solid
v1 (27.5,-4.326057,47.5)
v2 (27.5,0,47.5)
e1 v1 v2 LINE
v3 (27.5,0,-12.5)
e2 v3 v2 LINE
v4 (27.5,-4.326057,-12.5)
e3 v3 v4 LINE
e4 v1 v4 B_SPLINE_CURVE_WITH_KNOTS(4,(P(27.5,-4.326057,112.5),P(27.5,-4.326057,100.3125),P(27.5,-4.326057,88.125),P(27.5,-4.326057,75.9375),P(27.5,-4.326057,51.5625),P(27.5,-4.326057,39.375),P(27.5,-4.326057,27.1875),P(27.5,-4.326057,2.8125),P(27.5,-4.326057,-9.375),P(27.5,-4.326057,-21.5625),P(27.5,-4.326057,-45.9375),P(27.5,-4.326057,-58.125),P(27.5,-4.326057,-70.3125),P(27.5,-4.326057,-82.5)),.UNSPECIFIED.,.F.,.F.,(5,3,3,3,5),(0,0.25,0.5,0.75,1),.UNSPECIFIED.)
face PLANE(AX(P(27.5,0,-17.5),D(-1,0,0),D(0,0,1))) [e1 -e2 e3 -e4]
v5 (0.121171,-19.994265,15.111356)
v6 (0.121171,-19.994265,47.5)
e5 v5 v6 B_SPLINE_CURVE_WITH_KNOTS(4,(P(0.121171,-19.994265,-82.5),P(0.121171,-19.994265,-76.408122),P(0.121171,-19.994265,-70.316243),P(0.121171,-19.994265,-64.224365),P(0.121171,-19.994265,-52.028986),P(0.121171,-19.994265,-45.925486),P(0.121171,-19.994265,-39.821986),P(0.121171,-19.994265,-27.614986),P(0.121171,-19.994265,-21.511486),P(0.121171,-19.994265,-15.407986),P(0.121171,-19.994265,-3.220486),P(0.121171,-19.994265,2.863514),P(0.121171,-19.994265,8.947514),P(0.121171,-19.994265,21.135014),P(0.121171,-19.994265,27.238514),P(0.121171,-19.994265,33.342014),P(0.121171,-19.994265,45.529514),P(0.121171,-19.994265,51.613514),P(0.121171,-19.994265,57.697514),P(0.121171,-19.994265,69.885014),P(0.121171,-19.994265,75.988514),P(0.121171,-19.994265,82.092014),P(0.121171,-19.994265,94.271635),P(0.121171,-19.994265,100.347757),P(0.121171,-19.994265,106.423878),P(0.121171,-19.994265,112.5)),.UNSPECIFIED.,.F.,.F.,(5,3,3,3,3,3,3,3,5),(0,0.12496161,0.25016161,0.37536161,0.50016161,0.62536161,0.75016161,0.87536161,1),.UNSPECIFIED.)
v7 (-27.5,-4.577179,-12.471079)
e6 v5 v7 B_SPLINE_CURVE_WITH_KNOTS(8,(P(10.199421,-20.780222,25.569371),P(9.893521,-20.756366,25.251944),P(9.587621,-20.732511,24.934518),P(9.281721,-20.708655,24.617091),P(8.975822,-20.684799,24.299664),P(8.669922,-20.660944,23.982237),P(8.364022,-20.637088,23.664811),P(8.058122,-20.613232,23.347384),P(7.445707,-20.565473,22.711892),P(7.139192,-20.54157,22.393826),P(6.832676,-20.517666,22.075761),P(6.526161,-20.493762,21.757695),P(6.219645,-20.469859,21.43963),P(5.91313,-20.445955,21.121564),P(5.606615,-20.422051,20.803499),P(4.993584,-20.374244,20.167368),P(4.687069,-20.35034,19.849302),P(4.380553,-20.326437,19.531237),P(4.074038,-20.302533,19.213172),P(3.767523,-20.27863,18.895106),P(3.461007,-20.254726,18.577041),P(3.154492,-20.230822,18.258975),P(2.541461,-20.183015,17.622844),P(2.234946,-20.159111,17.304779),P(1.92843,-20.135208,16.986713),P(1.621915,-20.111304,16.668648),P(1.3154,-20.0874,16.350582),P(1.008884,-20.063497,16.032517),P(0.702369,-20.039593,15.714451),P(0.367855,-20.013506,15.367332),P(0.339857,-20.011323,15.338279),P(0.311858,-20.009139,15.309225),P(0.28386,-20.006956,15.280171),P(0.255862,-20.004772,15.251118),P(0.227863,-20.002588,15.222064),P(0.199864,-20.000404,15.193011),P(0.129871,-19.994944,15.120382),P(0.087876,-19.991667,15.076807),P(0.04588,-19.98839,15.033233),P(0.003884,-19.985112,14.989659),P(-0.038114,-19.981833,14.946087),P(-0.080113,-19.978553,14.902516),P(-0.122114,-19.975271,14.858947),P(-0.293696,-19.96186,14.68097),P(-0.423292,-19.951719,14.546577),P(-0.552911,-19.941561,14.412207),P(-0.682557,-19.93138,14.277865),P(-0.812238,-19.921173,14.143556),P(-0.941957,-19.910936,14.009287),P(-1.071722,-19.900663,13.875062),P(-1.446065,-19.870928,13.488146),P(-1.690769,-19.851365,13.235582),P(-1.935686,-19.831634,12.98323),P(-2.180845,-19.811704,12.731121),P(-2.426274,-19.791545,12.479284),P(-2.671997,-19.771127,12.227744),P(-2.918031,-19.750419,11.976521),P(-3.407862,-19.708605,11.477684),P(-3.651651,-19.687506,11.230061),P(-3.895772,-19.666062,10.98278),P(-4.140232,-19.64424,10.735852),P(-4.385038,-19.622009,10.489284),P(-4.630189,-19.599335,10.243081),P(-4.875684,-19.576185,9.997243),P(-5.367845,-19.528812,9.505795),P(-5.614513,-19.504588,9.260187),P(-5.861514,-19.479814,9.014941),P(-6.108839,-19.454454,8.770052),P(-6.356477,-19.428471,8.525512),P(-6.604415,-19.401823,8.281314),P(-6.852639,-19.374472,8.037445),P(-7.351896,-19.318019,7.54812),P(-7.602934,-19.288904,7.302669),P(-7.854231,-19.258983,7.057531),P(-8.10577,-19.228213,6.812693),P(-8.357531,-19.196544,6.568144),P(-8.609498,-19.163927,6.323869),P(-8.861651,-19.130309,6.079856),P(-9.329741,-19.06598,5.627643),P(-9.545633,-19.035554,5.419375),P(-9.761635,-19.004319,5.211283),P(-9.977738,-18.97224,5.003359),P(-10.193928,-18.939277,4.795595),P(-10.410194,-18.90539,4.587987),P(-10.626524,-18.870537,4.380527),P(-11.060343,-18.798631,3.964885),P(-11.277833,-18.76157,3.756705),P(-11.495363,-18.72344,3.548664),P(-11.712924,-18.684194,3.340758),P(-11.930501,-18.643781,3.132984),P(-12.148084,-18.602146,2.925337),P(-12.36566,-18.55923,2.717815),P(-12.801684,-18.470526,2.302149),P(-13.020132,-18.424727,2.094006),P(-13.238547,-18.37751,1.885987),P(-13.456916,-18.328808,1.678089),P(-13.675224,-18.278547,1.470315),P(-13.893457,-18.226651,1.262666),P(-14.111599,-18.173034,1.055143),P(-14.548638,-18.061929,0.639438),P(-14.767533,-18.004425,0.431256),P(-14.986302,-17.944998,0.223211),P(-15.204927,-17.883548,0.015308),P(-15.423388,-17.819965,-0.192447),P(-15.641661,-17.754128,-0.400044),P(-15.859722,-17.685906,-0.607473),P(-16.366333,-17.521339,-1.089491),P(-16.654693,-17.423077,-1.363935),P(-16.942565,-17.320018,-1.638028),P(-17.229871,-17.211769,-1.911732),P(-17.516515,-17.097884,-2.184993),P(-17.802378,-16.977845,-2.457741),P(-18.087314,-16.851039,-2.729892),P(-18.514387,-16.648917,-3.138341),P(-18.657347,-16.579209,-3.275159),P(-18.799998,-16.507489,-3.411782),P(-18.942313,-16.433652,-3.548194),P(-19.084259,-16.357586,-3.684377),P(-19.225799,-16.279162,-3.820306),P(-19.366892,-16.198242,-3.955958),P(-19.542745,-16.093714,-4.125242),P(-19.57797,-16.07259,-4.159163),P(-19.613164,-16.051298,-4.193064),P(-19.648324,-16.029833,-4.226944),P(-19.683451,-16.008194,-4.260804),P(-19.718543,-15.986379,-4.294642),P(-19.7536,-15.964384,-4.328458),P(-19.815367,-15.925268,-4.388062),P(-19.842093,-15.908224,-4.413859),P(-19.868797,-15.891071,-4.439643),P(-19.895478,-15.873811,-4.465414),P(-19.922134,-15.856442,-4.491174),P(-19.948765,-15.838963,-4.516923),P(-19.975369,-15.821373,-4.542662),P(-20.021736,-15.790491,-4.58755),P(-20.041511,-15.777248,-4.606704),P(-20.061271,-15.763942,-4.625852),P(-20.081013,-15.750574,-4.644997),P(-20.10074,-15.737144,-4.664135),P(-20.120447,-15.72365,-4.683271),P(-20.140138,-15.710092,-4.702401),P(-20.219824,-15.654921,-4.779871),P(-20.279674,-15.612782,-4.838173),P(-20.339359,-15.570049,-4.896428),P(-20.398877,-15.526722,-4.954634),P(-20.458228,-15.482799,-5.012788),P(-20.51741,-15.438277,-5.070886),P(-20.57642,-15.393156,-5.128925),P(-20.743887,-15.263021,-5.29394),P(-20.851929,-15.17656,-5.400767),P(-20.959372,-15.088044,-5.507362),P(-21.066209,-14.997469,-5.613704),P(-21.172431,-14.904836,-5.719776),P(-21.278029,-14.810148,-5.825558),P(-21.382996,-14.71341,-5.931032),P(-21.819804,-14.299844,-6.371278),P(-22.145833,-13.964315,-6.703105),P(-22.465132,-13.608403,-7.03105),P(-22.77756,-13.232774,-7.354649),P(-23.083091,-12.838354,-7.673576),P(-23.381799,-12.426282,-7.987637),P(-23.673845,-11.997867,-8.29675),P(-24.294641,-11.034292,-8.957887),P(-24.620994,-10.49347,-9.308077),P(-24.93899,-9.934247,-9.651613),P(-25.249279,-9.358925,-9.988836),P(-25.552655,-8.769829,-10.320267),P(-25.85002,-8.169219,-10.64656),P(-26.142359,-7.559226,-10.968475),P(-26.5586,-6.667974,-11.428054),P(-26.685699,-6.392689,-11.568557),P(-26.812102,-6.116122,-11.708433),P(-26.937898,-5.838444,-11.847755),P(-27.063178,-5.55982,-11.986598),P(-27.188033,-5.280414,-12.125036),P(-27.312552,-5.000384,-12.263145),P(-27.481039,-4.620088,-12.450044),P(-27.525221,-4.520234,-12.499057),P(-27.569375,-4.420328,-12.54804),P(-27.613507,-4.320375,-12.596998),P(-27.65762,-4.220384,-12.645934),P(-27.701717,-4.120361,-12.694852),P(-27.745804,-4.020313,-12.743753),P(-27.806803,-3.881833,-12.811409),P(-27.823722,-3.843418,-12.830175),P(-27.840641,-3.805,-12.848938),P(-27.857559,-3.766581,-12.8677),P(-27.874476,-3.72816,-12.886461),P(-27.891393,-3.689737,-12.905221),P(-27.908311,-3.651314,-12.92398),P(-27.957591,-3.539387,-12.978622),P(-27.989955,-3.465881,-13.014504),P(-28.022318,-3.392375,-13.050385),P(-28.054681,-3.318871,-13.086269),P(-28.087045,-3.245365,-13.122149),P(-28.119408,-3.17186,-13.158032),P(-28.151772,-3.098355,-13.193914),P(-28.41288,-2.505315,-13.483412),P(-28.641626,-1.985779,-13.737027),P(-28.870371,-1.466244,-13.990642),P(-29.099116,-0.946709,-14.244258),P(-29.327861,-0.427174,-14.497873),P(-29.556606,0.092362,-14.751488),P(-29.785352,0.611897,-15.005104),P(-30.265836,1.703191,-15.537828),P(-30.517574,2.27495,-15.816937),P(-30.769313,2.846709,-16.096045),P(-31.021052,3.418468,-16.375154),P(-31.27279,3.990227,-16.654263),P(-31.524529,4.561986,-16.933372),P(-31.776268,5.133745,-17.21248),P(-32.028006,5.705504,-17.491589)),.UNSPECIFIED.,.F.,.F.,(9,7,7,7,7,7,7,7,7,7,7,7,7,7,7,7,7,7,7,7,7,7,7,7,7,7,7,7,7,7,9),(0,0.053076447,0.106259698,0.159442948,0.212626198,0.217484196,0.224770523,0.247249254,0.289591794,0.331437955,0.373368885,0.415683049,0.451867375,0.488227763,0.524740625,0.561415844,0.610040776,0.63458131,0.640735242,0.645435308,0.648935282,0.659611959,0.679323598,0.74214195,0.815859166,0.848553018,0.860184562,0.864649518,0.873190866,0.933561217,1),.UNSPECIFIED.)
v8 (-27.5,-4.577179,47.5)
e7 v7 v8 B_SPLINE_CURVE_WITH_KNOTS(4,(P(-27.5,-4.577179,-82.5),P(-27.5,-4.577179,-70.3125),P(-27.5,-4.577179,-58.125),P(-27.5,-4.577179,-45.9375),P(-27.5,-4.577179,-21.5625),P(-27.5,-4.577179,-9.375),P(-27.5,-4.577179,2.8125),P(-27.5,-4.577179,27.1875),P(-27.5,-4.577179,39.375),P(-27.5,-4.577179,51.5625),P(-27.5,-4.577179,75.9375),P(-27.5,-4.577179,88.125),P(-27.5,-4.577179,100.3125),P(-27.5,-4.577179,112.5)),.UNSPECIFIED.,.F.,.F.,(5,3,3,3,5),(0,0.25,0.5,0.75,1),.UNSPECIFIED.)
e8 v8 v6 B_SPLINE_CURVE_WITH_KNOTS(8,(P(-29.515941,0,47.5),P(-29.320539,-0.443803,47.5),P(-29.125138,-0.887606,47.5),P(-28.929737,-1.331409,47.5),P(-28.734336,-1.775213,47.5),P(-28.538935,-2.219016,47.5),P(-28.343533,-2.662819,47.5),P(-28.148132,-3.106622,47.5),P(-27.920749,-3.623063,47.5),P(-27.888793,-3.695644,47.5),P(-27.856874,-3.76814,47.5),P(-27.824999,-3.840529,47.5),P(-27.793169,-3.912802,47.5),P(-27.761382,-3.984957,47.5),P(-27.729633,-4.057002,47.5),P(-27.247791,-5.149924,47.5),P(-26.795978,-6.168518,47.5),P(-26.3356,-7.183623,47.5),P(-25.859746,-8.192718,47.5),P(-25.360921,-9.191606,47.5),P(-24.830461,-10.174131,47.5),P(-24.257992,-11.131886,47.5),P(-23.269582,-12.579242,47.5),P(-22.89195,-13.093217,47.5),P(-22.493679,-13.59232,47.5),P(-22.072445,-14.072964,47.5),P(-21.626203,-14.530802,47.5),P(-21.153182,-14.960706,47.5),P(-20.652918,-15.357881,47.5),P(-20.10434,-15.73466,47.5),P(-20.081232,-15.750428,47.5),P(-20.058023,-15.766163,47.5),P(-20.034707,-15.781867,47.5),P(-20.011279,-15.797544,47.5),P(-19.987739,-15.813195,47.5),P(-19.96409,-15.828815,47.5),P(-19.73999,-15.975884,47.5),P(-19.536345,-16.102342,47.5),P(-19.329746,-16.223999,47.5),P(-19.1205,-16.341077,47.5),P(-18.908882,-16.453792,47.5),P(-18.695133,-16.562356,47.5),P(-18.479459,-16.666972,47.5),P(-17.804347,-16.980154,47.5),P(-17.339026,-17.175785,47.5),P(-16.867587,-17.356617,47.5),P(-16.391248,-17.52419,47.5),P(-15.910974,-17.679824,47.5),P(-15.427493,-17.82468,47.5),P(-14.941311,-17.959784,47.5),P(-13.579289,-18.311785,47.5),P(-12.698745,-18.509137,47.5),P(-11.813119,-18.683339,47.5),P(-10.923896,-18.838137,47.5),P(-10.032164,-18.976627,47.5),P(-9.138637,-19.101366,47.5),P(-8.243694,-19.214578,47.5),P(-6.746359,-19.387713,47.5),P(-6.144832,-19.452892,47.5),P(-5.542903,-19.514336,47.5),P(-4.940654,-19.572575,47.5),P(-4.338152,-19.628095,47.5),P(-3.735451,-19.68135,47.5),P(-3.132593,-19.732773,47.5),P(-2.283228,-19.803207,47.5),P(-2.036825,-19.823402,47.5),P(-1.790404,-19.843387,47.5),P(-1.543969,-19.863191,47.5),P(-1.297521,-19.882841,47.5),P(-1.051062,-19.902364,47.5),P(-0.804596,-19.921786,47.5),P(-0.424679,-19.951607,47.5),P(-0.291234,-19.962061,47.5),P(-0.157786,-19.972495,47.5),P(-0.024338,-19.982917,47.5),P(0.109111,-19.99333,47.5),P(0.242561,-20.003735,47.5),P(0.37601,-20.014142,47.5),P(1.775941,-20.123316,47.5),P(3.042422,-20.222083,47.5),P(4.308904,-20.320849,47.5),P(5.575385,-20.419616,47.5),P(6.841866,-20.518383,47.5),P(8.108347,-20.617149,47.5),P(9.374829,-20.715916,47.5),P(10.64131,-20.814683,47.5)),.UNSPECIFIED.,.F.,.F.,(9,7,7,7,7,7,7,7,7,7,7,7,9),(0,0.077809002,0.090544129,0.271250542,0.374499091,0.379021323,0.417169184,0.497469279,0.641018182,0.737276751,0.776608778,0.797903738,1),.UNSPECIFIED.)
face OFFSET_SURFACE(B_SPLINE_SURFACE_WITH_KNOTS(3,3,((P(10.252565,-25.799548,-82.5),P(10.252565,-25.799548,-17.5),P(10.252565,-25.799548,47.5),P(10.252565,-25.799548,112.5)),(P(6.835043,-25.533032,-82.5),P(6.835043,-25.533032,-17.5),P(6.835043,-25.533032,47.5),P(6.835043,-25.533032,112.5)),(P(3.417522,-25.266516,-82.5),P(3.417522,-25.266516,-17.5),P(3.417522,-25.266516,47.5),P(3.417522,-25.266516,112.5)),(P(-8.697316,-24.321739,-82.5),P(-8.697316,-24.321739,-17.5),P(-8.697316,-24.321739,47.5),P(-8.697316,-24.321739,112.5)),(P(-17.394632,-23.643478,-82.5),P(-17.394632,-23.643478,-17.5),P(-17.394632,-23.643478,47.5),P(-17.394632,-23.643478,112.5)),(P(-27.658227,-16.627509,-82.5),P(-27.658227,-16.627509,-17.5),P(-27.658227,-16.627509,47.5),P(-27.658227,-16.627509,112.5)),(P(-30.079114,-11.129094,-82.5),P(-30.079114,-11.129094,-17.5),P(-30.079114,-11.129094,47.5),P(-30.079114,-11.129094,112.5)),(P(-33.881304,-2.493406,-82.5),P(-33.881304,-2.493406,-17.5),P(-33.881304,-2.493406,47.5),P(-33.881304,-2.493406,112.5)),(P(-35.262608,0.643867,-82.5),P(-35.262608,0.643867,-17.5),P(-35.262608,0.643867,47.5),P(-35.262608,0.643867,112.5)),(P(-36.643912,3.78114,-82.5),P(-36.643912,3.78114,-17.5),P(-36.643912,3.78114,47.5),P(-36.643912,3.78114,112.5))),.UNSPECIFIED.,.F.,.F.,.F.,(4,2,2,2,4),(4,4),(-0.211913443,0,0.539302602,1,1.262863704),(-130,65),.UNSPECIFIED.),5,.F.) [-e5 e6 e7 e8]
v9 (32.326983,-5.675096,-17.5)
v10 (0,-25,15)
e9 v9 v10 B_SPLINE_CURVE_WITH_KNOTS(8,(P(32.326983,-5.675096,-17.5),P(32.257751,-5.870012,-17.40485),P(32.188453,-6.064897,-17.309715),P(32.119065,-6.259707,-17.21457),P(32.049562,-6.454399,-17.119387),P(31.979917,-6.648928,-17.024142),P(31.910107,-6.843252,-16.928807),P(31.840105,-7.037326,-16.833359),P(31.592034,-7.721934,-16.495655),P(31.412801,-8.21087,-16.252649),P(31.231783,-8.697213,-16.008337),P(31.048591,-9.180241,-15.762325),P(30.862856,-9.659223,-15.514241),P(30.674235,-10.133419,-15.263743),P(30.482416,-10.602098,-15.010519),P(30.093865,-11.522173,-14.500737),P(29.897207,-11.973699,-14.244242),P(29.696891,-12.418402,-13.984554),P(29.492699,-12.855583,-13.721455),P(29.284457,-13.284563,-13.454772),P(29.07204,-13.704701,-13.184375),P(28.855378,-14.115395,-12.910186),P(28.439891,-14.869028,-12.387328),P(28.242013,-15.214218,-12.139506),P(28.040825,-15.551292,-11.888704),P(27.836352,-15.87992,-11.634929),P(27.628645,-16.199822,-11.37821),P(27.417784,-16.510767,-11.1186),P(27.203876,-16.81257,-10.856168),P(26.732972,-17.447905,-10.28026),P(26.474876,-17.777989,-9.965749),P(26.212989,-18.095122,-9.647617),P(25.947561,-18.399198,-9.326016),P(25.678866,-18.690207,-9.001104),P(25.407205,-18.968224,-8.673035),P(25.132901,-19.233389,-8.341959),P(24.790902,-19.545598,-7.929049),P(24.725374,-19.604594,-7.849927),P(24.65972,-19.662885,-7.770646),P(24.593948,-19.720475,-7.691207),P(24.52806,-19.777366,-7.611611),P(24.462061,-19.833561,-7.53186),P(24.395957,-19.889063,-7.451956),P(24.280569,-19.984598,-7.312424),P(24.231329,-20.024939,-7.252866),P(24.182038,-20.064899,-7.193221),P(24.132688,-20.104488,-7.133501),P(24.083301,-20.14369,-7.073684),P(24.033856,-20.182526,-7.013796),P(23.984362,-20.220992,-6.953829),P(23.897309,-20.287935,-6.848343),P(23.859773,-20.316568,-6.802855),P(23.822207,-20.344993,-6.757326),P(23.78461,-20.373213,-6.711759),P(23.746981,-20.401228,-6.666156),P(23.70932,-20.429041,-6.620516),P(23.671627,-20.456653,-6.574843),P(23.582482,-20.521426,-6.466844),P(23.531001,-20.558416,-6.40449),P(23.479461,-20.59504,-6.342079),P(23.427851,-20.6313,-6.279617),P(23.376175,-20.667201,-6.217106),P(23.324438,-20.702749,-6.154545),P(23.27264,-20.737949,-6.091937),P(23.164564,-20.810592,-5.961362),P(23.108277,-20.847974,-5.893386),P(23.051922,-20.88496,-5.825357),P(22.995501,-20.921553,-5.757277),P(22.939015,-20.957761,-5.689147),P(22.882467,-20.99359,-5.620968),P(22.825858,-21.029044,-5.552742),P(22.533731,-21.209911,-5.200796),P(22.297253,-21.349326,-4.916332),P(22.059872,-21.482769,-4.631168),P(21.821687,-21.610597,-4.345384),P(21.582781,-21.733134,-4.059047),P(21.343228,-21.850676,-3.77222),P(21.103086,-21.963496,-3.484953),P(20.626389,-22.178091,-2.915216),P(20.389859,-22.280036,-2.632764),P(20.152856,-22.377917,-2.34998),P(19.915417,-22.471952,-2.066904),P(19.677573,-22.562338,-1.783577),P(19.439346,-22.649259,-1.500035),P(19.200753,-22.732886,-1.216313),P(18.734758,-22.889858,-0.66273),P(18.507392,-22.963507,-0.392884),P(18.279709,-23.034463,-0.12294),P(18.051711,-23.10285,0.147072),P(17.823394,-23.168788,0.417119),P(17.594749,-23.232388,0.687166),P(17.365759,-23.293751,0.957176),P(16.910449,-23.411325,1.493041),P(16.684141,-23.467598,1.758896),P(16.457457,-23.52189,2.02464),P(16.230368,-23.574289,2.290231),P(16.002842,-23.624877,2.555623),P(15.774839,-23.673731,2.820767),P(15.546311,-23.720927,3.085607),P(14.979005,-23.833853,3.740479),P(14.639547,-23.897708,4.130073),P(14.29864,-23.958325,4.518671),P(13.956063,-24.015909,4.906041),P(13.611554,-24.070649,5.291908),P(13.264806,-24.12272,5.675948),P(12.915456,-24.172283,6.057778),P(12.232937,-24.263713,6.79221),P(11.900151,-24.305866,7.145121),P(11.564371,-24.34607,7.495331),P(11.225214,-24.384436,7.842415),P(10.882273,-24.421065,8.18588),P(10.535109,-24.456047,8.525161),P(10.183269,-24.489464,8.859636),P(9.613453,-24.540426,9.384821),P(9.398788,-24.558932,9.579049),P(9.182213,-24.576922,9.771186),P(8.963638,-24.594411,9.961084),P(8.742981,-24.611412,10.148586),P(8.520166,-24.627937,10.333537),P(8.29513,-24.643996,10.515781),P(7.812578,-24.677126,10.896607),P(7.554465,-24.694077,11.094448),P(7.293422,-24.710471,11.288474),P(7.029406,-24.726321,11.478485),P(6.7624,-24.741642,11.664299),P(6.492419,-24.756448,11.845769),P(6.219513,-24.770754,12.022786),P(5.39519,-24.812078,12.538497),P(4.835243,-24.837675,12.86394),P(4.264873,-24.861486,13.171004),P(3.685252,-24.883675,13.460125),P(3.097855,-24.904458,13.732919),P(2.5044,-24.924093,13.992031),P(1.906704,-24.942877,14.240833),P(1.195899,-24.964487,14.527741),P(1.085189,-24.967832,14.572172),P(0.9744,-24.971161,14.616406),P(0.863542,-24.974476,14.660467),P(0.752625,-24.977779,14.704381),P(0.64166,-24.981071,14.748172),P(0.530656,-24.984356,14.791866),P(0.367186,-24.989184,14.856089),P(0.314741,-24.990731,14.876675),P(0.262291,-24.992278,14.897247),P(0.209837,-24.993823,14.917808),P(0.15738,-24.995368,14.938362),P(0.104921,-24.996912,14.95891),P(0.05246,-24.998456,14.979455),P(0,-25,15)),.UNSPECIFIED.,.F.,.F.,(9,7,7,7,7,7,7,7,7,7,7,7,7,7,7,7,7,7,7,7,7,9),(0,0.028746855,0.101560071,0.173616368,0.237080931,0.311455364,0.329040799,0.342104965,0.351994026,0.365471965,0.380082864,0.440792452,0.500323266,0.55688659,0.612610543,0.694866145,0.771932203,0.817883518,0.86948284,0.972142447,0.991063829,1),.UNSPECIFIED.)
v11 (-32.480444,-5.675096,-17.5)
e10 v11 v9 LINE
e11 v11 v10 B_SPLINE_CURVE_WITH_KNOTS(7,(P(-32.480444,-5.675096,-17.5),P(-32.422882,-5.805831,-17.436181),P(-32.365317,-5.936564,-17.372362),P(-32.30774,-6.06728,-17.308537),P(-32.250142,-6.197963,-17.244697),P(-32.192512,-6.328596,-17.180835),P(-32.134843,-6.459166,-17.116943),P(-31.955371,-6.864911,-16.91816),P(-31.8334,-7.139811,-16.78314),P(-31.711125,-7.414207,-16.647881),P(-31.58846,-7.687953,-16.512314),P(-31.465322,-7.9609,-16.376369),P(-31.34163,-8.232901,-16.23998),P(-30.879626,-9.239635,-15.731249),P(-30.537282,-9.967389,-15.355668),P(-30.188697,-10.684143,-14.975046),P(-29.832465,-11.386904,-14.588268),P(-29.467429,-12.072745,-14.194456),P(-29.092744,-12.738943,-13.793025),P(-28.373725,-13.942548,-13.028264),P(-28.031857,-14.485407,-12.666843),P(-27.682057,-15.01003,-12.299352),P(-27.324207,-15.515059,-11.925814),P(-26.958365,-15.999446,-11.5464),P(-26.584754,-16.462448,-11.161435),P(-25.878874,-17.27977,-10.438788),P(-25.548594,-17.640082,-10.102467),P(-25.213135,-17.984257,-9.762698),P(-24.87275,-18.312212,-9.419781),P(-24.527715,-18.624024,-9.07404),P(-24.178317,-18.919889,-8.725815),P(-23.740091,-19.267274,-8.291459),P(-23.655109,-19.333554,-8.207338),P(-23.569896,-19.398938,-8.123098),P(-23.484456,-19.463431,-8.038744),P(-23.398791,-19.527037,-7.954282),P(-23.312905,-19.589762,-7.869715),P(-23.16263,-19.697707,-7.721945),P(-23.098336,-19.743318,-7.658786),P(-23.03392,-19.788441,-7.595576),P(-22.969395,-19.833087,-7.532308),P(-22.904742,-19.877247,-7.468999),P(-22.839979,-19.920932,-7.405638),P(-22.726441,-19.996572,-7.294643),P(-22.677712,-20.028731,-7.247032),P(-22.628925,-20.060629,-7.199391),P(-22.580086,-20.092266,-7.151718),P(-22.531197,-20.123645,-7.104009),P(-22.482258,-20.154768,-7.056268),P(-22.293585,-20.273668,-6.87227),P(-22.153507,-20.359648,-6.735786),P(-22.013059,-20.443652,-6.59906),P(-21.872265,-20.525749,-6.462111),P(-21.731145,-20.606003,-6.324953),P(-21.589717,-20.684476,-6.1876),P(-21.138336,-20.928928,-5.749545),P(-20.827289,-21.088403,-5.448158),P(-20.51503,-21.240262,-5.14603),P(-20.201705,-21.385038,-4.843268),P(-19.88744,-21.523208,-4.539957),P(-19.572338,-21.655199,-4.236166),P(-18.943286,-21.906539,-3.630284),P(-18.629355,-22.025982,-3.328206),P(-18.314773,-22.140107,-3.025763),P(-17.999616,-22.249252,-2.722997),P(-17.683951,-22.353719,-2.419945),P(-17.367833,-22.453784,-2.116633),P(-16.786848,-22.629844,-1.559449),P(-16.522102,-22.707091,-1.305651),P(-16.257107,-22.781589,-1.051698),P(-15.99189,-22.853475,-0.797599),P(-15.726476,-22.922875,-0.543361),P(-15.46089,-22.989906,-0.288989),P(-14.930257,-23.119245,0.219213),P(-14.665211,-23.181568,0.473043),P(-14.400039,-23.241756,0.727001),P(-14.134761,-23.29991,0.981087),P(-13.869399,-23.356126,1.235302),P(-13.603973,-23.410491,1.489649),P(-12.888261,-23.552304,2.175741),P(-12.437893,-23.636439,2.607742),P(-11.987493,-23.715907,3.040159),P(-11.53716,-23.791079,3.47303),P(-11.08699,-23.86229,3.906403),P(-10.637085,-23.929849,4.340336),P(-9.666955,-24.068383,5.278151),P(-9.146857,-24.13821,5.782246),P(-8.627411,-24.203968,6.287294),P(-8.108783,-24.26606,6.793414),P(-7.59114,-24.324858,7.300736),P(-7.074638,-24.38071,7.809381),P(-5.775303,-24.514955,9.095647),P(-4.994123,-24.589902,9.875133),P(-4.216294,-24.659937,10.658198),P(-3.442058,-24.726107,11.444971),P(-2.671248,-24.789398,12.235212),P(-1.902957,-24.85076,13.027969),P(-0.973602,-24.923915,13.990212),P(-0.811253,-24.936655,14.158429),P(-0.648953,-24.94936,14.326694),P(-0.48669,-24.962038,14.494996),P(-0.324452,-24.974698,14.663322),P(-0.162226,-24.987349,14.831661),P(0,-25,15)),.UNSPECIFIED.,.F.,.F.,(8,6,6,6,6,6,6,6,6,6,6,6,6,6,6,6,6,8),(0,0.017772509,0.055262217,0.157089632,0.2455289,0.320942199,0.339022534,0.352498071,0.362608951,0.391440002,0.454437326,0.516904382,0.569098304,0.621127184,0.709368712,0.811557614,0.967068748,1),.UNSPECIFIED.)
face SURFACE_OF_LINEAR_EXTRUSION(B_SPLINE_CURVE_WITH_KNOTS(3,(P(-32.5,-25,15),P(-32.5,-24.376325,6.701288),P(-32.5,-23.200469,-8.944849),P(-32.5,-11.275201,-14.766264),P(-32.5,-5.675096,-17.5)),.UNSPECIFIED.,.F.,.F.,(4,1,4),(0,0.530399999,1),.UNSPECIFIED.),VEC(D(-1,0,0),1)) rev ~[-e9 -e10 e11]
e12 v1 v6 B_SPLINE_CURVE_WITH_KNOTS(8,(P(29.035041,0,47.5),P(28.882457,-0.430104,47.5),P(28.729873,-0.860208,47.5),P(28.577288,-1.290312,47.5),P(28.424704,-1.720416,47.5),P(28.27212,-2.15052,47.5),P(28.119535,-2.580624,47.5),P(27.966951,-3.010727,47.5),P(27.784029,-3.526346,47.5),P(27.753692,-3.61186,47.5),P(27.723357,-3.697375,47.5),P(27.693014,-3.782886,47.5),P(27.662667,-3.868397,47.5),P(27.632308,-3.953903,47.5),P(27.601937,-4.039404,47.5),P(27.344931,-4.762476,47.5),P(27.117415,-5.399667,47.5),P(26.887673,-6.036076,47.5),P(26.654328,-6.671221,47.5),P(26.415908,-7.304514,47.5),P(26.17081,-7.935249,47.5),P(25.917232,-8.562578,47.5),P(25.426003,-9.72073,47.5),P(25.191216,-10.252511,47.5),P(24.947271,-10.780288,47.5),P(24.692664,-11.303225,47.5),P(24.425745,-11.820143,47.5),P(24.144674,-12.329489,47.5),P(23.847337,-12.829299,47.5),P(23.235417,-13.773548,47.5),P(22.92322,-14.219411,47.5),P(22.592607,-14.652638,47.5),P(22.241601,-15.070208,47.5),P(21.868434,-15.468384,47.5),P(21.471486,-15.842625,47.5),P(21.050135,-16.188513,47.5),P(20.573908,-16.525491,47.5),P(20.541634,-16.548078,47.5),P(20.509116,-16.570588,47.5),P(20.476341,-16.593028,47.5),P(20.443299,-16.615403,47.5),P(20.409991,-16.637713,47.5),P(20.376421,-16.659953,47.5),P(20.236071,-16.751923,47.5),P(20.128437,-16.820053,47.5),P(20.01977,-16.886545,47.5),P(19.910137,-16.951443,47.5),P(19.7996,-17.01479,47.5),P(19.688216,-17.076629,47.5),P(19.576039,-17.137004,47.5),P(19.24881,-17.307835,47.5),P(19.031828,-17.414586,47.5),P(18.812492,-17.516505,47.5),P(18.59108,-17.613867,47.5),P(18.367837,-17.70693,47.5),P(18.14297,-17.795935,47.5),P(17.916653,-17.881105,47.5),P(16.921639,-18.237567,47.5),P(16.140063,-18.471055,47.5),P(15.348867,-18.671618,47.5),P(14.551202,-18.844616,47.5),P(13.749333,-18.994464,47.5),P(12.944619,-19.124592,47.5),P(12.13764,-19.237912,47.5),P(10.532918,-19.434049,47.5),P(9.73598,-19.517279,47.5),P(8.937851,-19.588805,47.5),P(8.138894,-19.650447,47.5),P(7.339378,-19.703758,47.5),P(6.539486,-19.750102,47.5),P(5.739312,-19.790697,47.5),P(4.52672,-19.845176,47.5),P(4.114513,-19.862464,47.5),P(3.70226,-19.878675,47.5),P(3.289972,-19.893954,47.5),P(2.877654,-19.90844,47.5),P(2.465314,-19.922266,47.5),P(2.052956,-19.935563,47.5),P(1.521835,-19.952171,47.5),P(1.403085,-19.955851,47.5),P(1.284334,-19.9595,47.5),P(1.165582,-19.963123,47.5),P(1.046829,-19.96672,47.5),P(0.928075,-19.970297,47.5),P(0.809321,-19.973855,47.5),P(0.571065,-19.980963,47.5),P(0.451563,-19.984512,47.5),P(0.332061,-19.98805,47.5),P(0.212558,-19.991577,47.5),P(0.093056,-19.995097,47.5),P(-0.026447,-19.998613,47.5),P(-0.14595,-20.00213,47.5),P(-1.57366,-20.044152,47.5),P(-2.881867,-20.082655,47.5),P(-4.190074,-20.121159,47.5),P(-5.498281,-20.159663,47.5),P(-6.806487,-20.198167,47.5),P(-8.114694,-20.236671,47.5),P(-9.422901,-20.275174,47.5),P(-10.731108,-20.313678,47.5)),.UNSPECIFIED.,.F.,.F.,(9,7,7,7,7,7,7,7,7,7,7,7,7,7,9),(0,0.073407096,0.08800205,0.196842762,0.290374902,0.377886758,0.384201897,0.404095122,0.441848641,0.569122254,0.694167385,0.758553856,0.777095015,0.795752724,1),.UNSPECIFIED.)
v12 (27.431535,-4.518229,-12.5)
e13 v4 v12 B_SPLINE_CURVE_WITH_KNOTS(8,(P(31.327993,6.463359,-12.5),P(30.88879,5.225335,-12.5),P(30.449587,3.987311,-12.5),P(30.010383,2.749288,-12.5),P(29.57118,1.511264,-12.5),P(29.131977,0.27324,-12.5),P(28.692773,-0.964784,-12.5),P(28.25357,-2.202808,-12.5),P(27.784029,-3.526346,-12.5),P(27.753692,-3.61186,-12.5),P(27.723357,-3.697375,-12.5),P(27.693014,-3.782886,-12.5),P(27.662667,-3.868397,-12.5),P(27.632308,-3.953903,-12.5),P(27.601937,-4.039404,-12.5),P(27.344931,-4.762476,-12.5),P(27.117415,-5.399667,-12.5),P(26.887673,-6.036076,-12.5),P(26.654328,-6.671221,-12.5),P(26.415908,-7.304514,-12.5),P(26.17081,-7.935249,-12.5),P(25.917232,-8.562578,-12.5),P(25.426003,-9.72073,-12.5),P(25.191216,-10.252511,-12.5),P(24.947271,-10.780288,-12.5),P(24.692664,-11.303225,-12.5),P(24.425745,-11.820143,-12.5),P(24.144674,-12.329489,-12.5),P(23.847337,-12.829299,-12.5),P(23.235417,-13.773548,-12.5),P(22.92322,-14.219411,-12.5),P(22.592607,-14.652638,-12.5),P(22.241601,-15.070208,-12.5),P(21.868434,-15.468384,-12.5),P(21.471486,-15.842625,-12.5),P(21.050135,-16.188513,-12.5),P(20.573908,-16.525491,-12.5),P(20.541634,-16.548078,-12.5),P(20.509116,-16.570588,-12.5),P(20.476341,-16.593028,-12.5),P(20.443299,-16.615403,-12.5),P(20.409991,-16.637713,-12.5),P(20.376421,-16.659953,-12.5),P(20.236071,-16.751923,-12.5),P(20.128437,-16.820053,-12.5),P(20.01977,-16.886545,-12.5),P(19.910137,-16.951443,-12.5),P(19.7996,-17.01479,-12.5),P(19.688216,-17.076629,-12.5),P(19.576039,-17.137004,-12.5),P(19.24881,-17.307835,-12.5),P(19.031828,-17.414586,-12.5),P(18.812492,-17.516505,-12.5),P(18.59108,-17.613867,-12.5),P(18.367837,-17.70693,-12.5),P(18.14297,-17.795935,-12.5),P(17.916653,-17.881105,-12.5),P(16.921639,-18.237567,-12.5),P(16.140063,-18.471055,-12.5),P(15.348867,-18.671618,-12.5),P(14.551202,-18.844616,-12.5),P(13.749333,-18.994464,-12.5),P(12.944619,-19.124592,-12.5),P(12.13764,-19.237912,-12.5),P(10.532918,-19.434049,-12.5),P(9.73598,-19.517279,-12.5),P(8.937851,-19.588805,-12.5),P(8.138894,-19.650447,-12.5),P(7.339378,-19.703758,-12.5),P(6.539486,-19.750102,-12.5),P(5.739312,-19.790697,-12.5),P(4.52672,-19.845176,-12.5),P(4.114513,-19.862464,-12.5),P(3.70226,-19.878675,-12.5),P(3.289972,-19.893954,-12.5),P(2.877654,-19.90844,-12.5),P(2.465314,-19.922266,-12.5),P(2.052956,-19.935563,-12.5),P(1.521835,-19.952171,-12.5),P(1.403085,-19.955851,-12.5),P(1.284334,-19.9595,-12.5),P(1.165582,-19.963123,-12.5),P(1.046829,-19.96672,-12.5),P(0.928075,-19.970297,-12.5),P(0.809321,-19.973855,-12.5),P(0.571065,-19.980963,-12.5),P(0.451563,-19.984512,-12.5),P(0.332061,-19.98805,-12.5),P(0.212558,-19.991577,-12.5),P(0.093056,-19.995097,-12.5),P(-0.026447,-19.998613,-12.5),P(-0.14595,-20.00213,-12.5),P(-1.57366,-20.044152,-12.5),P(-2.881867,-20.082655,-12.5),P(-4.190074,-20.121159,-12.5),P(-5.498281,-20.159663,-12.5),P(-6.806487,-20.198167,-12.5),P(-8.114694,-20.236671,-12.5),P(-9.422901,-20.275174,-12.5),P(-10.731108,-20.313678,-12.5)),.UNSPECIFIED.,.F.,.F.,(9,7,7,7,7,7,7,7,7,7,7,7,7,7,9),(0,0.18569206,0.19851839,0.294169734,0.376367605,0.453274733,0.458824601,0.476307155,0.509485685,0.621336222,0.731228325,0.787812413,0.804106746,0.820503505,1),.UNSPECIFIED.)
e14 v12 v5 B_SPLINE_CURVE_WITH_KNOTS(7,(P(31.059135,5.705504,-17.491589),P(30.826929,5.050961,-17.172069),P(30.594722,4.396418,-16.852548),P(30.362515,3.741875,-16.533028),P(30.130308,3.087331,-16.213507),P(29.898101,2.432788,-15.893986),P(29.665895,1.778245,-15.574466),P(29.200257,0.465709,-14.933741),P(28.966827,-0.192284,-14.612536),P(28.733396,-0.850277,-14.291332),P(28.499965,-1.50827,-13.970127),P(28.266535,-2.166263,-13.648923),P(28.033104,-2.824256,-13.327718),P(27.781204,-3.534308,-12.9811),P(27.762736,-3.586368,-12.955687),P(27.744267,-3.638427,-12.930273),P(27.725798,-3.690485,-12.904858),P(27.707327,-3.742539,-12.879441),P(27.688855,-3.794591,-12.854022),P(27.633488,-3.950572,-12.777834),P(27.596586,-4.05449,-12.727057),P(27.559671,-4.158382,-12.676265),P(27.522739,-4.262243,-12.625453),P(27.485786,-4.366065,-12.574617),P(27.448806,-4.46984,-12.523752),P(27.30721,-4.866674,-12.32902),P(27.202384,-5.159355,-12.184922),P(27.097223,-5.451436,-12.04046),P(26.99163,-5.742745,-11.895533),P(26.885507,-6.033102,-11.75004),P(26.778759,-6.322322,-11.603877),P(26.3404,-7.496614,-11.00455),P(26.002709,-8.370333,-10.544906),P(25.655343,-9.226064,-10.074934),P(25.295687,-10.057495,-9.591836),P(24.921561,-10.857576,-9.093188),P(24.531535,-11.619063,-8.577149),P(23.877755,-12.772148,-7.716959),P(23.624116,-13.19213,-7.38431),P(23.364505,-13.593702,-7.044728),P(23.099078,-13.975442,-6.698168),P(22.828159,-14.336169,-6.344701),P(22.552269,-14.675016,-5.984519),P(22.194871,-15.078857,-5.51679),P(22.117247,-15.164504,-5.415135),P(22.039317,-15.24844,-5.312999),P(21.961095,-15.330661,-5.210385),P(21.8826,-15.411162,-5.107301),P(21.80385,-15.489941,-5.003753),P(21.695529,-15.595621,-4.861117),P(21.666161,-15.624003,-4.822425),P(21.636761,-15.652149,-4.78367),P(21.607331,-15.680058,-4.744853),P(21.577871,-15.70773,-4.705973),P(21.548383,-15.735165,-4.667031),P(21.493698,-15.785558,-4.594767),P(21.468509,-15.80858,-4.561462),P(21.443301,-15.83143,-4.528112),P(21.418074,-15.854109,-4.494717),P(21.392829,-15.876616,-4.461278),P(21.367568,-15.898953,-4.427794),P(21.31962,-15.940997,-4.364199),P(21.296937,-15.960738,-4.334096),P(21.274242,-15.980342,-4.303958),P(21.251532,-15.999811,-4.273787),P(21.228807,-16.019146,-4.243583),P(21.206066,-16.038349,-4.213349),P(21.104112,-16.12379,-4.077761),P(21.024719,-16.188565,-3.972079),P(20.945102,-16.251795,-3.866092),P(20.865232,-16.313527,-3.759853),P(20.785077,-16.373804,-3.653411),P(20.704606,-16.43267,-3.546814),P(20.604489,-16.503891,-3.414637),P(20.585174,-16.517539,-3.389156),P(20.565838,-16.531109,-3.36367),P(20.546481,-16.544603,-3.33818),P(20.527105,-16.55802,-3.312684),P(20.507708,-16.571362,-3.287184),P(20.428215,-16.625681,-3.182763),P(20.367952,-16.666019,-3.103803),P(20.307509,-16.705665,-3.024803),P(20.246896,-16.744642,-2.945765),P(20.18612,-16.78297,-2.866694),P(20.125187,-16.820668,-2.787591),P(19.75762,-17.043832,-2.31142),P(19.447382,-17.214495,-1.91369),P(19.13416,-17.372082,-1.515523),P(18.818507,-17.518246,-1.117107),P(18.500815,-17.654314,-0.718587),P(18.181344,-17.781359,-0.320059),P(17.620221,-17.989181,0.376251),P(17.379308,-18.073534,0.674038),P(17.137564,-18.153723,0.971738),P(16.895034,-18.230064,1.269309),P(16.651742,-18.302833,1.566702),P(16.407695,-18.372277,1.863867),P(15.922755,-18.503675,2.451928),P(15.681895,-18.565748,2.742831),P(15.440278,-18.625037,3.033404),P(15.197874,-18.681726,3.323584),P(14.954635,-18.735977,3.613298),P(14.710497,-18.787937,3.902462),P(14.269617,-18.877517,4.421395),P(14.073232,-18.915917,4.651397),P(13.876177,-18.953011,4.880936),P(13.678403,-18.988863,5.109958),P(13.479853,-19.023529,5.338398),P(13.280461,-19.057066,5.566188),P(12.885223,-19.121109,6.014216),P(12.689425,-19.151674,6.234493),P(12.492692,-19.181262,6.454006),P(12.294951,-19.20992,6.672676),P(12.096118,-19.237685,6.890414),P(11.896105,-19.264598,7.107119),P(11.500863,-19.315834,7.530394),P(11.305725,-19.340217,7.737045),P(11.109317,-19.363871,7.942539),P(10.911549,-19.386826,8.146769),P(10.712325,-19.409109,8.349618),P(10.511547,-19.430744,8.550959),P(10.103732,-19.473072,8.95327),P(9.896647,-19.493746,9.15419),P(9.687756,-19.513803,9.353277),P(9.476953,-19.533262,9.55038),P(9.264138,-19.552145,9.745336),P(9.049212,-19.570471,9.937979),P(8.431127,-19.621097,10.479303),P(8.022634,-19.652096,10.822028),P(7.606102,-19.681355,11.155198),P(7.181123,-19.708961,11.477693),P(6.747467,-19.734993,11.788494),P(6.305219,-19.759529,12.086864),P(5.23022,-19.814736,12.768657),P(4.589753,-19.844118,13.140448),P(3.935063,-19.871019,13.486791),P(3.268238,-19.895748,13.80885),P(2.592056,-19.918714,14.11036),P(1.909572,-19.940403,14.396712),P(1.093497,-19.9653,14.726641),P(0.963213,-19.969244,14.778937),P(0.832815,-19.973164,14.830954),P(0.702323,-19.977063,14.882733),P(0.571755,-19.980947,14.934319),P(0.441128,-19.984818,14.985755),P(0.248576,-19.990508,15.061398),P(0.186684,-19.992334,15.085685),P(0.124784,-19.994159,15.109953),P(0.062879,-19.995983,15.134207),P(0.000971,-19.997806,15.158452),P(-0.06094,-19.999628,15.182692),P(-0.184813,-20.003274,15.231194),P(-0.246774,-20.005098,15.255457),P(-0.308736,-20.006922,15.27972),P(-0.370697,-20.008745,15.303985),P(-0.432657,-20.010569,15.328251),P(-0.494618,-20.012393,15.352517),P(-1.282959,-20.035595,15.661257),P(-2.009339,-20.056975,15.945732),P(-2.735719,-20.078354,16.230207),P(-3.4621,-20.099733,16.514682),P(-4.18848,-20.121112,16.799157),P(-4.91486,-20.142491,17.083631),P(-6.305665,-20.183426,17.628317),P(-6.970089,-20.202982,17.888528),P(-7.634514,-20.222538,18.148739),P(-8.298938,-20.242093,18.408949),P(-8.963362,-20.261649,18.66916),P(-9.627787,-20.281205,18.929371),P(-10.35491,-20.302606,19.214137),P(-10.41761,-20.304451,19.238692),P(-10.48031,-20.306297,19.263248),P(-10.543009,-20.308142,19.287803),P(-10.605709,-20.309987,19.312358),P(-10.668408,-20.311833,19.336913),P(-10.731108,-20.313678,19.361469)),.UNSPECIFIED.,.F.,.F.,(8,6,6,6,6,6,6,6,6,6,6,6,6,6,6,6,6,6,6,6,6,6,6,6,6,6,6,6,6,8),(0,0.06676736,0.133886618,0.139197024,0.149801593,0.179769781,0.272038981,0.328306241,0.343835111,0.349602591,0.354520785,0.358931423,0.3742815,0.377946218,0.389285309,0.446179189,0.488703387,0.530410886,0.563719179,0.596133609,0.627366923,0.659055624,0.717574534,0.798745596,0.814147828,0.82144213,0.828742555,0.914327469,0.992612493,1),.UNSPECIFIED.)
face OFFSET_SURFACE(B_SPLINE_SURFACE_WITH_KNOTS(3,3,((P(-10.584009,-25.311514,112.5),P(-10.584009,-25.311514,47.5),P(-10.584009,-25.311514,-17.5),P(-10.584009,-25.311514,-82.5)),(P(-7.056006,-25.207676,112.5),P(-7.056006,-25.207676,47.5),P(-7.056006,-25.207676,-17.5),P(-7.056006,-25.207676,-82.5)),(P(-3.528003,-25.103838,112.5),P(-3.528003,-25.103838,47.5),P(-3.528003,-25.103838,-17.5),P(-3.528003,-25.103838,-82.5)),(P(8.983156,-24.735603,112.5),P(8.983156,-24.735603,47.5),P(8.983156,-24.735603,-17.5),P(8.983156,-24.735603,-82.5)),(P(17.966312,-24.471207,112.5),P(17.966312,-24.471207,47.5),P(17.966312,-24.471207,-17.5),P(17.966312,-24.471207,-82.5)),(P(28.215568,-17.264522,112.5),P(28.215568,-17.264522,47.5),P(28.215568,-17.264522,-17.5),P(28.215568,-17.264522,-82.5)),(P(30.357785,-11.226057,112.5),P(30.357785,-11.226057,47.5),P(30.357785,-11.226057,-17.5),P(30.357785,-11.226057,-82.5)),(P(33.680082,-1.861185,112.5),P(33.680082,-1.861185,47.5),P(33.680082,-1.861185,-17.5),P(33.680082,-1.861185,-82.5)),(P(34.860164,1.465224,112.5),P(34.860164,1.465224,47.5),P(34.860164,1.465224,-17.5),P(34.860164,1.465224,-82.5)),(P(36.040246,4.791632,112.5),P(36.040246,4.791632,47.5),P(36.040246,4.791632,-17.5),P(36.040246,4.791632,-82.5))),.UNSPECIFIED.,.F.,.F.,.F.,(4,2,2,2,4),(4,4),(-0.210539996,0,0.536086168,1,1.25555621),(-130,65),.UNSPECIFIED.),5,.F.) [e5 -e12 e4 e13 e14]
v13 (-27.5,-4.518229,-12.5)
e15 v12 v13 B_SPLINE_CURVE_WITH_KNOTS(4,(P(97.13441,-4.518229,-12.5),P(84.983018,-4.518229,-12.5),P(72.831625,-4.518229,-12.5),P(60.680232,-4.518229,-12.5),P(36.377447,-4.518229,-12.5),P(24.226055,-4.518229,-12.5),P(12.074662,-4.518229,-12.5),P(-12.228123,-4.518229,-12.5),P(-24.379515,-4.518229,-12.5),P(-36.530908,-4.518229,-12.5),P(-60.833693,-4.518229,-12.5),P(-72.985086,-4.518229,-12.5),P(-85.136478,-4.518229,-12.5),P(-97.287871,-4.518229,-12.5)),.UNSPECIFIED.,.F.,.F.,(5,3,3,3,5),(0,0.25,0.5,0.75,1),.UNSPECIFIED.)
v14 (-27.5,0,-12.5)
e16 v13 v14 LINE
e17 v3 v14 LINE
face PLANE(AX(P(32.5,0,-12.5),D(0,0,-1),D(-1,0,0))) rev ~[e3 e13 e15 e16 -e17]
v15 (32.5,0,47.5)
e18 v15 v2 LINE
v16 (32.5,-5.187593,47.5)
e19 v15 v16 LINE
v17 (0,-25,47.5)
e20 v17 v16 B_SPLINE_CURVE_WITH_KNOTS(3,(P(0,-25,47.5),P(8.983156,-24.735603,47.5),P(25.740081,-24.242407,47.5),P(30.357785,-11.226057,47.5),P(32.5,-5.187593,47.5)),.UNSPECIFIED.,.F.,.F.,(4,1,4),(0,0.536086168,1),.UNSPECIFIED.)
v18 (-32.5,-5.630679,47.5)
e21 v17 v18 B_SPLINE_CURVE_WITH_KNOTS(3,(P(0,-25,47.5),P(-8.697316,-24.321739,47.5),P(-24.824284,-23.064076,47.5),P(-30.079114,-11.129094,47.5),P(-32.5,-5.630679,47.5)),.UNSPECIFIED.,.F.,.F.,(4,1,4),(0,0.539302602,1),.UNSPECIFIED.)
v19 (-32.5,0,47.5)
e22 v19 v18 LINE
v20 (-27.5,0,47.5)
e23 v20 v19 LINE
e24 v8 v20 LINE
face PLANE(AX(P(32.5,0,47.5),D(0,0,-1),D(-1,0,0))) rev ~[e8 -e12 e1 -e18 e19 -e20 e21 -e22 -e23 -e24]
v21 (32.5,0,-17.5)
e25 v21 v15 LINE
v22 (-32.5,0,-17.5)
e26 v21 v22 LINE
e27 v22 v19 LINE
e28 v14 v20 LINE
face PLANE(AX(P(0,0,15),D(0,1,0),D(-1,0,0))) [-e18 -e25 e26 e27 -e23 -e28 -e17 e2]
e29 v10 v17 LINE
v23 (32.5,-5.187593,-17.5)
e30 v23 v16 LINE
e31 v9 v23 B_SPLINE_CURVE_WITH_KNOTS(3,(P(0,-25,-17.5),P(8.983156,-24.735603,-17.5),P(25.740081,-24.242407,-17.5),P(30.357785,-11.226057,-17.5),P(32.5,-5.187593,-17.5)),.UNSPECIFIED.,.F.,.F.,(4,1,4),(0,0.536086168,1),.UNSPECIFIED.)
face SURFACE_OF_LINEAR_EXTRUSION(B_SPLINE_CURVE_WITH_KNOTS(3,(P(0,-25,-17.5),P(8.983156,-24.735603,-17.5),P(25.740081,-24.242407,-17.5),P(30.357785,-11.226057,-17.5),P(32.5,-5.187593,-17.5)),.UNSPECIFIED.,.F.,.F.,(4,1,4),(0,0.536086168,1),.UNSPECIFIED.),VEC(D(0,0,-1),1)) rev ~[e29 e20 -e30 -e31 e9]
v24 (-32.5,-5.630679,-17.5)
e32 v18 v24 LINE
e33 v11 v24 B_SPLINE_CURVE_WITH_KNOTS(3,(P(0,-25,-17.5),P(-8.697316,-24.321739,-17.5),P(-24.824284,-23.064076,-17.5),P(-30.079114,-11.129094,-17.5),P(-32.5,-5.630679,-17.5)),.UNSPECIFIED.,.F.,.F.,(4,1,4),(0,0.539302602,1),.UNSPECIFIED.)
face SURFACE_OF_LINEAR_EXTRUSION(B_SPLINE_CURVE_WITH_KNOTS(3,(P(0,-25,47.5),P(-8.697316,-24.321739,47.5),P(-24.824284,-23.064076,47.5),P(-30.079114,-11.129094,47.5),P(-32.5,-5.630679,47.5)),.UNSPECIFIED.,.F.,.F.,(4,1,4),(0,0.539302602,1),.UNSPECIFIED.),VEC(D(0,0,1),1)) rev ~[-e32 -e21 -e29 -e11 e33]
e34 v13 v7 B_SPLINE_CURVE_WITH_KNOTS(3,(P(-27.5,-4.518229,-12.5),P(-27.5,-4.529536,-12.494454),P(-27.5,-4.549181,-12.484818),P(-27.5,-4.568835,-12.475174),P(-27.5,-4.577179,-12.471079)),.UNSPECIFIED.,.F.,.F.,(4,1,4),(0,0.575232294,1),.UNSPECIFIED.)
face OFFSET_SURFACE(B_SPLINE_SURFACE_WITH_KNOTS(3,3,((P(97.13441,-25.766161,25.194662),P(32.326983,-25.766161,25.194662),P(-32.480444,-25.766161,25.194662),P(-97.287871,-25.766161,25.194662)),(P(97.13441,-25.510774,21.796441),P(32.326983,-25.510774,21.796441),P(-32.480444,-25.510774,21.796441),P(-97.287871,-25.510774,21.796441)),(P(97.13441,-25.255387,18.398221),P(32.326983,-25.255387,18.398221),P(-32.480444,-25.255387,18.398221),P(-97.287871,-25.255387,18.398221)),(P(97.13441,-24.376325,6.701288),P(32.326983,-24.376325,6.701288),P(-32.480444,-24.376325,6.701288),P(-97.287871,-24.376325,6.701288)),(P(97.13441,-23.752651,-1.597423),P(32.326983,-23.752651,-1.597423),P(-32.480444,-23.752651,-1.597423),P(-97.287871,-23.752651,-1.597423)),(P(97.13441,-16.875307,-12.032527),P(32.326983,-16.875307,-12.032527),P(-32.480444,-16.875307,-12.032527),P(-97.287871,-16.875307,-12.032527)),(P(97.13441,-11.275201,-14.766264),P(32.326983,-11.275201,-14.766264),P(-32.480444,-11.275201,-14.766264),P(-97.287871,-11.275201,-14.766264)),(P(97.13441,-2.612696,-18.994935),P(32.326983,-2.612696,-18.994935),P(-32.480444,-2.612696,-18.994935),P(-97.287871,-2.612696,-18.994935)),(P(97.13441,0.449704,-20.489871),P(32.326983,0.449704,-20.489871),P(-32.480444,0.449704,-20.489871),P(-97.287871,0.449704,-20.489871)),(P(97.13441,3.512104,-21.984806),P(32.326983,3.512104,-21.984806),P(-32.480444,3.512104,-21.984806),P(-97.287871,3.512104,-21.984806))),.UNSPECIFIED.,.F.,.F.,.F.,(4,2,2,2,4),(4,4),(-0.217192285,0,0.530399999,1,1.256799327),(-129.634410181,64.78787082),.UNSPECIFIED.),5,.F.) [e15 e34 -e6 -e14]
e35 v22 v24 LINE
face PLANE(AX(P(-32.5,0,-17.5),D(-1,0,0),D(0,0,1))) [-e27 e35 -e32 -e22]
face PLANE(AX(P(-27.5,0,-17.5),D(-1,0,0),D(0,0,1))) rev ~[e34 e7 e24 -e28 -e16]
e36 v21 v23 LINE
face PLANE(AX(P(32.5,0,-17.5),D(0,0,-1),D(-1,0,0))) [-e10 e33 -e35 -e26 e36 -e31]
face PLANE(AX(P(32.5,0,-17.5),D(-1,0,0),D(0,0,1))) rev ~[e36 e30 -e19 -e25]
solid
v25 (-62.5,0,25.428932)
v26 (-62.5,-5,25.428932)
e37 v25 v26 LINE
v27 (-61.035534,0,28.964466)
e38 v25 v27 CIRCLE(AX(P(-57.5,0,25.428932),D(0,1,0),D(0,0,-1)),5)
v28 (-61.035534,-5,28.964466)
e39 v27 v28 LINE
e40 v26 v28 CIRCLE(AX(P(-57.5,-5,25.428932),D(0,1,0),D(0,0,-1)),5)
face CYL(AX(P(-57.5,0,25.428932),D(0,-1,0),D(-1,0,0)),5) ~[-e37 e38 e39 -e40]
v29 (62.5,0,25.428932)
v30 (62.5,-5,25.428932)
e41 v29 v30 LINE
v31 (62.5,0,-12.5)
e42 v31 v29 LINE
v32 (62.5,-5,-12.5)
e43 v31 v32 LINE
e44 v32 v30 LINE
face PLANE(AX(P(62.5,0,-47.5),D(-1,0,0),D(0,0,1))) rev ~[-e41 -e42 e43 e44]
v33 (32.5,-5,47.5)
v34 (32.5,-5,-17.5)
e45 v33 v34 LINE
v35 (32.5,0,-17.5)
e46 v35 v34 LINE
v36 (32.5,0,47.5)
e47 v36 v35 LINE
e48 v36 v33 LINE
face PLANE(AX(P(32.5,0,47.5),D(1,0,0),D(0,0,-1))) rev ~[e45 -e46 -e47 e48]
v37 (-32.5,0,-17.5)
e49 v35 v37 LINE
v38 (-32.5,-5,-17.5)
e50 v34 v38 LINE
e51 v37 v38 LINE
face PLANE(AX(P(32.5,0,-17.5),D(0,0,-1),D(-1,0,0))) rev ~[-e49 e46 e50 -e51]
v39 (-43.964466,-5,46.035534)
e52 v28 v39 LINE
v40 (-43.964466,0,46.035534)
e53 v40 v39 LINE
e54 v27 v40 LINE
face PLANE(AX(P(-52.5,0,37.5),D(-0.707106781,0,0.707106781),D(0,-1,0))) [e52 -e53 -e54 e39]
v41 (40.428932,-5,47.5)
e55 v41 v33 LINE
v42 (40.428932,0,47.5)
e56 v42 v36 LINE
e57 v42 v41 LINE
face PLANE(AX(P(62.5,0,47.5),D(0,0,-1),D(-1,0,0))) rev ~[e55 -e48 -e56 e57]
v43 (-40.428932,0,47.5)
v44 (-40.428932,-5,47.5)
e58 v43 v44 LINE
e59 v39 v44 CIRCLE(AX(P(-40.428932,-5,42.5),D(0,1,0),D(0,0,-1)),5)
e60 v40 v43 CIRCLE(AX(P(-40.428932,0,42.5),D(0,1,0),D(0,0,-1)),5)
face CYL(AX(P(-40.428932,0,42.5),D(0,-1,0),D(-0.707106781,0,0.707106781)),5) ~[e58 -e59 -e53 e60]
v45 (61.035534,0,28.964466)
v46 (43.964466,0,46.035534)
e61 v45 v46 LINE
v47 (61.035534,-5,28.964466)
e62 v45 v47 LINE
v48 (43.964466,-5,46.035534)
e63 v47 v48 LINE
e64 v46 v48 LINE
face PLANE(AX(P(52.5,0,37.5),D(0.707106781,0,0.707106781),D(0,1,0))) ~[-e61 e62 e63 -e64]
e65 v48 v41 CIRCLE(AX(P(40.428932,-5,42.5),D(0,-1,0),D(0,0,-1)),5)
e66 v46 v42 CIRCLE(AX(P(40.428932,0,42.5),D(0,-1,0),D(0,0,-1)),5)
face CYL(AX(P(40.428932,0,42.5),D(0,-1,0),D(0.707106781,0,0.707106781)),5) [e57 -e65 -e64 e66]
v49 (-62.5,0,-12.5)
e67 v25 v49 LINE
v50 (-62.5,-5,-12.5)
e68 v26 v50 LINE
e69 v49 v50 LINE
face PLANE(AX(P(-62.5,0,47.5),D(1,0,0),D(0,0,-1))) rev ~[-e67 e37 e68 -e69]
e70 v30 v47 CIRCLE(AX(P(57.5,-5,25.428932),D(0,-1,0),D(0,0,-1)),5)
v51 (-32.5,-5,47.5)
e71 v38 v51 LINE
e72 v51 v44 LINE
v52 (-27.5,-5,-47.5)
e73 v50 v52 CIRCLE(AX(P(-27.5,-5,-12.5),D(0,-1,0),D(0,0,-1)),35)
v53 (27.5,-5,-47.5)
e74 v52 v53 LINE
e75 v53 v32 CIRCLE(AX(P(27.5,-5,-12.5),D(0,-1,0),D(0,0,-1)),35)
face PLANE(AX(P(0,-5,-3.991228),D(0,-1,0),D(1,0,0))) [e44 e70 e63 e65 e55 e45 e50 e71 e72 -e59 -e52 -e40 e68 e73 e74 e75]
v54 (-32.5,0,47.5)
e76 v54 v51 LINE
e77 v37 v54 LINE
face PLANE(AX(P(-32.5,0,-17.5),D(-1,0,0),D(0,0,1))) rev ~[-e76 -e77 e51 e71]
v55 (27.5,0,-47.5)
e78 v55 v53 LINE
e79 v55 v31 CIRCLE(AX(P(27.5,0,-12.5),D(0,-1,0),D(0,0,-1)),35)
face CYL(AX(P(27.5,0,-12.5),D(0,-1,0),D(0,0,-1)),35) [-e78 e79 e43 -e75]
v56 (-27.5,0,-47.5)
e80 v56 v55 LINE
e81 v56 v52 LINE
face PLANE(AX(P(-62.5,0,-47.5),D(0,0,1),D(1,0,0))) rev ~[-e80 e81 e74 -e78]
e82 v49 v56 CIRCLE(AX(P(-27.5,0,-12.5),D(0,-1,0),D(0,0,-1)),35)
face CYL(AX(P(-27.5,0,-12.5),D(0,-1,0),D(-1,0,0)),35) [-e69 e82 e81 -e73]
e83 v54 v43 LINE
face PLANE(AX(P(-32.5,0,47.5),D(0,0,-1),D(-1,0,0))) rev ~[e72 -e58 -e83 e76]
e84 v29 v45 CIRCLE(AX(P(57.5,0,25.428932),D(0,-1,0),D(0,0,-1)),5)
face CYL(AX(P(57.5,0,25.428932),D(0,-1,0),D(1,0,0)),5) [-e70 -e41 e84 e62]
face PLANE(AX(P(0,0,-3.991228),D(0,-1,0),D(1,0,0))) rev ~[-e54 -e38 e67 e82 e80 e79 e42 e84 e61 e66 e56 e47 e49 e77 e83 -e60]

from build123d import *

# Parameters (mm, degrees)
F1_DEPTH = 5
F2_W     = 65
F2_H     = 65
F3_DEPTH = 25
F7_DEPTH = 65
F8_DEPTH = 65
F9_DEPTH = 65
F10_R    = 35
F11_R    = 35
F12_SIZE = 20
F13_SIZE = 20
F14_R    = 5
F15_T    = -5


with BuildPart() as f1:
    # F0 (on Front) → F1 (new body)
    with BuildSketch(Plane.XZ):
        Polygon((-62.5, 47.5), (-62.5, -47.5), (62.5, -47.5), (62.5, 47.5), (32.5, 47.5), (32.5, 17.5), (32.5, -17.5), (-32.5, -17.5), (-32.5, 17.5), (-32.5, 47.5), align=None)
    extrude(amount=F1_DEPTH)

    # F10
    f10_edges = [f1.edges().sort_by_distance(p)[0] for p in [
        (-62.5, -2.5, -47.5),
    ]]
    fillet(f10_edges, radius=F10_R)

    # F11
    f11_edges = [f1.edges().sort_by_distance(p)[0] for p in [
        (62.5, -2.5, -47.5),
    ]]
    fillet(f11_edges, radius=F11_R)

    # F12
    f12_edges = [f1.edges().sort_by_distance(p)[0] for p in [
        (62.5, -2.5, 47.5),
    ]]
    chamfer(f12_edges, length=F12_SIZE)

    # F13
    f13_edges = [f1.edges().sort_by_distance(p)[0] for p in [
        (-62.5, -2.5, 47.5),
    ]]
    chamfer(f13_edges, length=F13_SIZE)

    # F14
    f14_edges = [f1.edges().sort_by_distance(p)[0] for p in [
        (42.5, -2.5, 47.5),
        (-42.5, -2.5, 47.5),
        (62.5, -2.5, 27.5),
        (-62.5, -2.5, 27.5),
    ]]
    fillet(f14_edges, radius=F14_R)


with BuildPart() as f3:
    # F2 (on face) → F3 (new body)
    with BuildSketch(Plane(origin=(0, 0, 0), x_dir=(-1, 0, 0), z_dir=(0, 1, 0))):
        with Locations((0, 15)):
            Rectangle(F2_W, F2_H)
    extrude(amount=-F3_DEPTH)

    # F6 (on face) → F7 (cut)
    with BuildSketch(Plane(origin=(0, 0, -17.5), x_dir=(1, 0, 0), z_dir=(0, 0, -1))):
        with BuildLine():
            Line((32.5, 25), (0, 25))
            add(Edge.make_bspline(
                [(0, 25), (8.9831560964, 24.7356032013), (25.7400806439, 24.2424068327), (30.3577846442, 11.2260573238), (32.5, 5.1875934005)],
                knots=[0, 0, 0, 0, 0.5360861676, 1, 1, 1, 1], degree=3))
            Line((32.5, 5.1875934005), (32.5, 25))
        make_face()
    extrude(amount=-F7_DEPTH, mode=Mode.SUBTRACT)

    # F5 (on face) → F8 (cut)
    with BuildSketch(Plane(origin=(-32.5, 0, 0), x_dir=(0, -1, 0), z_dir=(-1, 0, 0))):
        with BuildLine():
            Line((25, -17.5), (25, 15))
            add(Edge.make_bspline(
                [(25, 15), (24.3763252453, 6.7012881278), (23.2004686952, -8.9448490093), (11.2752006062, -14.7662638453), (5.6750960648, -17.5)],
                knots=[0, 0, 0, 0, 0.5303999994, 1, 1, 1, 1], degree=3))
            Line((5.6750960648, -17.5), (25, -17.5))
        make_face()
    extrude(amount=-F8_DEPTH, mode=Mode.SUBTRACT)

    # F4 (on face) → F9 (cut)
    with BuildSketch(Plane.XY.offset(47.5)):
        with BuildLine():
            Line((-32.5, -25), (0, -25))
            add(Edge.make_bspline(
                [(0, -25), (-8.6973164519, -24.3217387105), (-24.8242839164, -23.0640764791), (-30.0791135259, -11.1290940087), (-32.5, -5.6306794286)],
                knots=[0, 0, 0, 0, 0.5393026017, 1, 1, 1, 1], degree=3))
            Line((-32.5, -5.6306794286), (-32.5, -25))
        make_face()
    extrude(amount=-F9_DEPTH, mode=Mode.SUBTRACT)

    # F15
    f15_openings = [f3.faces().sort_by_distance(p)[0] for p in [
        (0.301187, -11.064049, 47.5),
        (0, 0, 15),
    ]]
    offset(amount=F15_T, openings=f15_openings, kind=Kind.INTERSECTION)


solid = Compound([f1.part, f3.part])
